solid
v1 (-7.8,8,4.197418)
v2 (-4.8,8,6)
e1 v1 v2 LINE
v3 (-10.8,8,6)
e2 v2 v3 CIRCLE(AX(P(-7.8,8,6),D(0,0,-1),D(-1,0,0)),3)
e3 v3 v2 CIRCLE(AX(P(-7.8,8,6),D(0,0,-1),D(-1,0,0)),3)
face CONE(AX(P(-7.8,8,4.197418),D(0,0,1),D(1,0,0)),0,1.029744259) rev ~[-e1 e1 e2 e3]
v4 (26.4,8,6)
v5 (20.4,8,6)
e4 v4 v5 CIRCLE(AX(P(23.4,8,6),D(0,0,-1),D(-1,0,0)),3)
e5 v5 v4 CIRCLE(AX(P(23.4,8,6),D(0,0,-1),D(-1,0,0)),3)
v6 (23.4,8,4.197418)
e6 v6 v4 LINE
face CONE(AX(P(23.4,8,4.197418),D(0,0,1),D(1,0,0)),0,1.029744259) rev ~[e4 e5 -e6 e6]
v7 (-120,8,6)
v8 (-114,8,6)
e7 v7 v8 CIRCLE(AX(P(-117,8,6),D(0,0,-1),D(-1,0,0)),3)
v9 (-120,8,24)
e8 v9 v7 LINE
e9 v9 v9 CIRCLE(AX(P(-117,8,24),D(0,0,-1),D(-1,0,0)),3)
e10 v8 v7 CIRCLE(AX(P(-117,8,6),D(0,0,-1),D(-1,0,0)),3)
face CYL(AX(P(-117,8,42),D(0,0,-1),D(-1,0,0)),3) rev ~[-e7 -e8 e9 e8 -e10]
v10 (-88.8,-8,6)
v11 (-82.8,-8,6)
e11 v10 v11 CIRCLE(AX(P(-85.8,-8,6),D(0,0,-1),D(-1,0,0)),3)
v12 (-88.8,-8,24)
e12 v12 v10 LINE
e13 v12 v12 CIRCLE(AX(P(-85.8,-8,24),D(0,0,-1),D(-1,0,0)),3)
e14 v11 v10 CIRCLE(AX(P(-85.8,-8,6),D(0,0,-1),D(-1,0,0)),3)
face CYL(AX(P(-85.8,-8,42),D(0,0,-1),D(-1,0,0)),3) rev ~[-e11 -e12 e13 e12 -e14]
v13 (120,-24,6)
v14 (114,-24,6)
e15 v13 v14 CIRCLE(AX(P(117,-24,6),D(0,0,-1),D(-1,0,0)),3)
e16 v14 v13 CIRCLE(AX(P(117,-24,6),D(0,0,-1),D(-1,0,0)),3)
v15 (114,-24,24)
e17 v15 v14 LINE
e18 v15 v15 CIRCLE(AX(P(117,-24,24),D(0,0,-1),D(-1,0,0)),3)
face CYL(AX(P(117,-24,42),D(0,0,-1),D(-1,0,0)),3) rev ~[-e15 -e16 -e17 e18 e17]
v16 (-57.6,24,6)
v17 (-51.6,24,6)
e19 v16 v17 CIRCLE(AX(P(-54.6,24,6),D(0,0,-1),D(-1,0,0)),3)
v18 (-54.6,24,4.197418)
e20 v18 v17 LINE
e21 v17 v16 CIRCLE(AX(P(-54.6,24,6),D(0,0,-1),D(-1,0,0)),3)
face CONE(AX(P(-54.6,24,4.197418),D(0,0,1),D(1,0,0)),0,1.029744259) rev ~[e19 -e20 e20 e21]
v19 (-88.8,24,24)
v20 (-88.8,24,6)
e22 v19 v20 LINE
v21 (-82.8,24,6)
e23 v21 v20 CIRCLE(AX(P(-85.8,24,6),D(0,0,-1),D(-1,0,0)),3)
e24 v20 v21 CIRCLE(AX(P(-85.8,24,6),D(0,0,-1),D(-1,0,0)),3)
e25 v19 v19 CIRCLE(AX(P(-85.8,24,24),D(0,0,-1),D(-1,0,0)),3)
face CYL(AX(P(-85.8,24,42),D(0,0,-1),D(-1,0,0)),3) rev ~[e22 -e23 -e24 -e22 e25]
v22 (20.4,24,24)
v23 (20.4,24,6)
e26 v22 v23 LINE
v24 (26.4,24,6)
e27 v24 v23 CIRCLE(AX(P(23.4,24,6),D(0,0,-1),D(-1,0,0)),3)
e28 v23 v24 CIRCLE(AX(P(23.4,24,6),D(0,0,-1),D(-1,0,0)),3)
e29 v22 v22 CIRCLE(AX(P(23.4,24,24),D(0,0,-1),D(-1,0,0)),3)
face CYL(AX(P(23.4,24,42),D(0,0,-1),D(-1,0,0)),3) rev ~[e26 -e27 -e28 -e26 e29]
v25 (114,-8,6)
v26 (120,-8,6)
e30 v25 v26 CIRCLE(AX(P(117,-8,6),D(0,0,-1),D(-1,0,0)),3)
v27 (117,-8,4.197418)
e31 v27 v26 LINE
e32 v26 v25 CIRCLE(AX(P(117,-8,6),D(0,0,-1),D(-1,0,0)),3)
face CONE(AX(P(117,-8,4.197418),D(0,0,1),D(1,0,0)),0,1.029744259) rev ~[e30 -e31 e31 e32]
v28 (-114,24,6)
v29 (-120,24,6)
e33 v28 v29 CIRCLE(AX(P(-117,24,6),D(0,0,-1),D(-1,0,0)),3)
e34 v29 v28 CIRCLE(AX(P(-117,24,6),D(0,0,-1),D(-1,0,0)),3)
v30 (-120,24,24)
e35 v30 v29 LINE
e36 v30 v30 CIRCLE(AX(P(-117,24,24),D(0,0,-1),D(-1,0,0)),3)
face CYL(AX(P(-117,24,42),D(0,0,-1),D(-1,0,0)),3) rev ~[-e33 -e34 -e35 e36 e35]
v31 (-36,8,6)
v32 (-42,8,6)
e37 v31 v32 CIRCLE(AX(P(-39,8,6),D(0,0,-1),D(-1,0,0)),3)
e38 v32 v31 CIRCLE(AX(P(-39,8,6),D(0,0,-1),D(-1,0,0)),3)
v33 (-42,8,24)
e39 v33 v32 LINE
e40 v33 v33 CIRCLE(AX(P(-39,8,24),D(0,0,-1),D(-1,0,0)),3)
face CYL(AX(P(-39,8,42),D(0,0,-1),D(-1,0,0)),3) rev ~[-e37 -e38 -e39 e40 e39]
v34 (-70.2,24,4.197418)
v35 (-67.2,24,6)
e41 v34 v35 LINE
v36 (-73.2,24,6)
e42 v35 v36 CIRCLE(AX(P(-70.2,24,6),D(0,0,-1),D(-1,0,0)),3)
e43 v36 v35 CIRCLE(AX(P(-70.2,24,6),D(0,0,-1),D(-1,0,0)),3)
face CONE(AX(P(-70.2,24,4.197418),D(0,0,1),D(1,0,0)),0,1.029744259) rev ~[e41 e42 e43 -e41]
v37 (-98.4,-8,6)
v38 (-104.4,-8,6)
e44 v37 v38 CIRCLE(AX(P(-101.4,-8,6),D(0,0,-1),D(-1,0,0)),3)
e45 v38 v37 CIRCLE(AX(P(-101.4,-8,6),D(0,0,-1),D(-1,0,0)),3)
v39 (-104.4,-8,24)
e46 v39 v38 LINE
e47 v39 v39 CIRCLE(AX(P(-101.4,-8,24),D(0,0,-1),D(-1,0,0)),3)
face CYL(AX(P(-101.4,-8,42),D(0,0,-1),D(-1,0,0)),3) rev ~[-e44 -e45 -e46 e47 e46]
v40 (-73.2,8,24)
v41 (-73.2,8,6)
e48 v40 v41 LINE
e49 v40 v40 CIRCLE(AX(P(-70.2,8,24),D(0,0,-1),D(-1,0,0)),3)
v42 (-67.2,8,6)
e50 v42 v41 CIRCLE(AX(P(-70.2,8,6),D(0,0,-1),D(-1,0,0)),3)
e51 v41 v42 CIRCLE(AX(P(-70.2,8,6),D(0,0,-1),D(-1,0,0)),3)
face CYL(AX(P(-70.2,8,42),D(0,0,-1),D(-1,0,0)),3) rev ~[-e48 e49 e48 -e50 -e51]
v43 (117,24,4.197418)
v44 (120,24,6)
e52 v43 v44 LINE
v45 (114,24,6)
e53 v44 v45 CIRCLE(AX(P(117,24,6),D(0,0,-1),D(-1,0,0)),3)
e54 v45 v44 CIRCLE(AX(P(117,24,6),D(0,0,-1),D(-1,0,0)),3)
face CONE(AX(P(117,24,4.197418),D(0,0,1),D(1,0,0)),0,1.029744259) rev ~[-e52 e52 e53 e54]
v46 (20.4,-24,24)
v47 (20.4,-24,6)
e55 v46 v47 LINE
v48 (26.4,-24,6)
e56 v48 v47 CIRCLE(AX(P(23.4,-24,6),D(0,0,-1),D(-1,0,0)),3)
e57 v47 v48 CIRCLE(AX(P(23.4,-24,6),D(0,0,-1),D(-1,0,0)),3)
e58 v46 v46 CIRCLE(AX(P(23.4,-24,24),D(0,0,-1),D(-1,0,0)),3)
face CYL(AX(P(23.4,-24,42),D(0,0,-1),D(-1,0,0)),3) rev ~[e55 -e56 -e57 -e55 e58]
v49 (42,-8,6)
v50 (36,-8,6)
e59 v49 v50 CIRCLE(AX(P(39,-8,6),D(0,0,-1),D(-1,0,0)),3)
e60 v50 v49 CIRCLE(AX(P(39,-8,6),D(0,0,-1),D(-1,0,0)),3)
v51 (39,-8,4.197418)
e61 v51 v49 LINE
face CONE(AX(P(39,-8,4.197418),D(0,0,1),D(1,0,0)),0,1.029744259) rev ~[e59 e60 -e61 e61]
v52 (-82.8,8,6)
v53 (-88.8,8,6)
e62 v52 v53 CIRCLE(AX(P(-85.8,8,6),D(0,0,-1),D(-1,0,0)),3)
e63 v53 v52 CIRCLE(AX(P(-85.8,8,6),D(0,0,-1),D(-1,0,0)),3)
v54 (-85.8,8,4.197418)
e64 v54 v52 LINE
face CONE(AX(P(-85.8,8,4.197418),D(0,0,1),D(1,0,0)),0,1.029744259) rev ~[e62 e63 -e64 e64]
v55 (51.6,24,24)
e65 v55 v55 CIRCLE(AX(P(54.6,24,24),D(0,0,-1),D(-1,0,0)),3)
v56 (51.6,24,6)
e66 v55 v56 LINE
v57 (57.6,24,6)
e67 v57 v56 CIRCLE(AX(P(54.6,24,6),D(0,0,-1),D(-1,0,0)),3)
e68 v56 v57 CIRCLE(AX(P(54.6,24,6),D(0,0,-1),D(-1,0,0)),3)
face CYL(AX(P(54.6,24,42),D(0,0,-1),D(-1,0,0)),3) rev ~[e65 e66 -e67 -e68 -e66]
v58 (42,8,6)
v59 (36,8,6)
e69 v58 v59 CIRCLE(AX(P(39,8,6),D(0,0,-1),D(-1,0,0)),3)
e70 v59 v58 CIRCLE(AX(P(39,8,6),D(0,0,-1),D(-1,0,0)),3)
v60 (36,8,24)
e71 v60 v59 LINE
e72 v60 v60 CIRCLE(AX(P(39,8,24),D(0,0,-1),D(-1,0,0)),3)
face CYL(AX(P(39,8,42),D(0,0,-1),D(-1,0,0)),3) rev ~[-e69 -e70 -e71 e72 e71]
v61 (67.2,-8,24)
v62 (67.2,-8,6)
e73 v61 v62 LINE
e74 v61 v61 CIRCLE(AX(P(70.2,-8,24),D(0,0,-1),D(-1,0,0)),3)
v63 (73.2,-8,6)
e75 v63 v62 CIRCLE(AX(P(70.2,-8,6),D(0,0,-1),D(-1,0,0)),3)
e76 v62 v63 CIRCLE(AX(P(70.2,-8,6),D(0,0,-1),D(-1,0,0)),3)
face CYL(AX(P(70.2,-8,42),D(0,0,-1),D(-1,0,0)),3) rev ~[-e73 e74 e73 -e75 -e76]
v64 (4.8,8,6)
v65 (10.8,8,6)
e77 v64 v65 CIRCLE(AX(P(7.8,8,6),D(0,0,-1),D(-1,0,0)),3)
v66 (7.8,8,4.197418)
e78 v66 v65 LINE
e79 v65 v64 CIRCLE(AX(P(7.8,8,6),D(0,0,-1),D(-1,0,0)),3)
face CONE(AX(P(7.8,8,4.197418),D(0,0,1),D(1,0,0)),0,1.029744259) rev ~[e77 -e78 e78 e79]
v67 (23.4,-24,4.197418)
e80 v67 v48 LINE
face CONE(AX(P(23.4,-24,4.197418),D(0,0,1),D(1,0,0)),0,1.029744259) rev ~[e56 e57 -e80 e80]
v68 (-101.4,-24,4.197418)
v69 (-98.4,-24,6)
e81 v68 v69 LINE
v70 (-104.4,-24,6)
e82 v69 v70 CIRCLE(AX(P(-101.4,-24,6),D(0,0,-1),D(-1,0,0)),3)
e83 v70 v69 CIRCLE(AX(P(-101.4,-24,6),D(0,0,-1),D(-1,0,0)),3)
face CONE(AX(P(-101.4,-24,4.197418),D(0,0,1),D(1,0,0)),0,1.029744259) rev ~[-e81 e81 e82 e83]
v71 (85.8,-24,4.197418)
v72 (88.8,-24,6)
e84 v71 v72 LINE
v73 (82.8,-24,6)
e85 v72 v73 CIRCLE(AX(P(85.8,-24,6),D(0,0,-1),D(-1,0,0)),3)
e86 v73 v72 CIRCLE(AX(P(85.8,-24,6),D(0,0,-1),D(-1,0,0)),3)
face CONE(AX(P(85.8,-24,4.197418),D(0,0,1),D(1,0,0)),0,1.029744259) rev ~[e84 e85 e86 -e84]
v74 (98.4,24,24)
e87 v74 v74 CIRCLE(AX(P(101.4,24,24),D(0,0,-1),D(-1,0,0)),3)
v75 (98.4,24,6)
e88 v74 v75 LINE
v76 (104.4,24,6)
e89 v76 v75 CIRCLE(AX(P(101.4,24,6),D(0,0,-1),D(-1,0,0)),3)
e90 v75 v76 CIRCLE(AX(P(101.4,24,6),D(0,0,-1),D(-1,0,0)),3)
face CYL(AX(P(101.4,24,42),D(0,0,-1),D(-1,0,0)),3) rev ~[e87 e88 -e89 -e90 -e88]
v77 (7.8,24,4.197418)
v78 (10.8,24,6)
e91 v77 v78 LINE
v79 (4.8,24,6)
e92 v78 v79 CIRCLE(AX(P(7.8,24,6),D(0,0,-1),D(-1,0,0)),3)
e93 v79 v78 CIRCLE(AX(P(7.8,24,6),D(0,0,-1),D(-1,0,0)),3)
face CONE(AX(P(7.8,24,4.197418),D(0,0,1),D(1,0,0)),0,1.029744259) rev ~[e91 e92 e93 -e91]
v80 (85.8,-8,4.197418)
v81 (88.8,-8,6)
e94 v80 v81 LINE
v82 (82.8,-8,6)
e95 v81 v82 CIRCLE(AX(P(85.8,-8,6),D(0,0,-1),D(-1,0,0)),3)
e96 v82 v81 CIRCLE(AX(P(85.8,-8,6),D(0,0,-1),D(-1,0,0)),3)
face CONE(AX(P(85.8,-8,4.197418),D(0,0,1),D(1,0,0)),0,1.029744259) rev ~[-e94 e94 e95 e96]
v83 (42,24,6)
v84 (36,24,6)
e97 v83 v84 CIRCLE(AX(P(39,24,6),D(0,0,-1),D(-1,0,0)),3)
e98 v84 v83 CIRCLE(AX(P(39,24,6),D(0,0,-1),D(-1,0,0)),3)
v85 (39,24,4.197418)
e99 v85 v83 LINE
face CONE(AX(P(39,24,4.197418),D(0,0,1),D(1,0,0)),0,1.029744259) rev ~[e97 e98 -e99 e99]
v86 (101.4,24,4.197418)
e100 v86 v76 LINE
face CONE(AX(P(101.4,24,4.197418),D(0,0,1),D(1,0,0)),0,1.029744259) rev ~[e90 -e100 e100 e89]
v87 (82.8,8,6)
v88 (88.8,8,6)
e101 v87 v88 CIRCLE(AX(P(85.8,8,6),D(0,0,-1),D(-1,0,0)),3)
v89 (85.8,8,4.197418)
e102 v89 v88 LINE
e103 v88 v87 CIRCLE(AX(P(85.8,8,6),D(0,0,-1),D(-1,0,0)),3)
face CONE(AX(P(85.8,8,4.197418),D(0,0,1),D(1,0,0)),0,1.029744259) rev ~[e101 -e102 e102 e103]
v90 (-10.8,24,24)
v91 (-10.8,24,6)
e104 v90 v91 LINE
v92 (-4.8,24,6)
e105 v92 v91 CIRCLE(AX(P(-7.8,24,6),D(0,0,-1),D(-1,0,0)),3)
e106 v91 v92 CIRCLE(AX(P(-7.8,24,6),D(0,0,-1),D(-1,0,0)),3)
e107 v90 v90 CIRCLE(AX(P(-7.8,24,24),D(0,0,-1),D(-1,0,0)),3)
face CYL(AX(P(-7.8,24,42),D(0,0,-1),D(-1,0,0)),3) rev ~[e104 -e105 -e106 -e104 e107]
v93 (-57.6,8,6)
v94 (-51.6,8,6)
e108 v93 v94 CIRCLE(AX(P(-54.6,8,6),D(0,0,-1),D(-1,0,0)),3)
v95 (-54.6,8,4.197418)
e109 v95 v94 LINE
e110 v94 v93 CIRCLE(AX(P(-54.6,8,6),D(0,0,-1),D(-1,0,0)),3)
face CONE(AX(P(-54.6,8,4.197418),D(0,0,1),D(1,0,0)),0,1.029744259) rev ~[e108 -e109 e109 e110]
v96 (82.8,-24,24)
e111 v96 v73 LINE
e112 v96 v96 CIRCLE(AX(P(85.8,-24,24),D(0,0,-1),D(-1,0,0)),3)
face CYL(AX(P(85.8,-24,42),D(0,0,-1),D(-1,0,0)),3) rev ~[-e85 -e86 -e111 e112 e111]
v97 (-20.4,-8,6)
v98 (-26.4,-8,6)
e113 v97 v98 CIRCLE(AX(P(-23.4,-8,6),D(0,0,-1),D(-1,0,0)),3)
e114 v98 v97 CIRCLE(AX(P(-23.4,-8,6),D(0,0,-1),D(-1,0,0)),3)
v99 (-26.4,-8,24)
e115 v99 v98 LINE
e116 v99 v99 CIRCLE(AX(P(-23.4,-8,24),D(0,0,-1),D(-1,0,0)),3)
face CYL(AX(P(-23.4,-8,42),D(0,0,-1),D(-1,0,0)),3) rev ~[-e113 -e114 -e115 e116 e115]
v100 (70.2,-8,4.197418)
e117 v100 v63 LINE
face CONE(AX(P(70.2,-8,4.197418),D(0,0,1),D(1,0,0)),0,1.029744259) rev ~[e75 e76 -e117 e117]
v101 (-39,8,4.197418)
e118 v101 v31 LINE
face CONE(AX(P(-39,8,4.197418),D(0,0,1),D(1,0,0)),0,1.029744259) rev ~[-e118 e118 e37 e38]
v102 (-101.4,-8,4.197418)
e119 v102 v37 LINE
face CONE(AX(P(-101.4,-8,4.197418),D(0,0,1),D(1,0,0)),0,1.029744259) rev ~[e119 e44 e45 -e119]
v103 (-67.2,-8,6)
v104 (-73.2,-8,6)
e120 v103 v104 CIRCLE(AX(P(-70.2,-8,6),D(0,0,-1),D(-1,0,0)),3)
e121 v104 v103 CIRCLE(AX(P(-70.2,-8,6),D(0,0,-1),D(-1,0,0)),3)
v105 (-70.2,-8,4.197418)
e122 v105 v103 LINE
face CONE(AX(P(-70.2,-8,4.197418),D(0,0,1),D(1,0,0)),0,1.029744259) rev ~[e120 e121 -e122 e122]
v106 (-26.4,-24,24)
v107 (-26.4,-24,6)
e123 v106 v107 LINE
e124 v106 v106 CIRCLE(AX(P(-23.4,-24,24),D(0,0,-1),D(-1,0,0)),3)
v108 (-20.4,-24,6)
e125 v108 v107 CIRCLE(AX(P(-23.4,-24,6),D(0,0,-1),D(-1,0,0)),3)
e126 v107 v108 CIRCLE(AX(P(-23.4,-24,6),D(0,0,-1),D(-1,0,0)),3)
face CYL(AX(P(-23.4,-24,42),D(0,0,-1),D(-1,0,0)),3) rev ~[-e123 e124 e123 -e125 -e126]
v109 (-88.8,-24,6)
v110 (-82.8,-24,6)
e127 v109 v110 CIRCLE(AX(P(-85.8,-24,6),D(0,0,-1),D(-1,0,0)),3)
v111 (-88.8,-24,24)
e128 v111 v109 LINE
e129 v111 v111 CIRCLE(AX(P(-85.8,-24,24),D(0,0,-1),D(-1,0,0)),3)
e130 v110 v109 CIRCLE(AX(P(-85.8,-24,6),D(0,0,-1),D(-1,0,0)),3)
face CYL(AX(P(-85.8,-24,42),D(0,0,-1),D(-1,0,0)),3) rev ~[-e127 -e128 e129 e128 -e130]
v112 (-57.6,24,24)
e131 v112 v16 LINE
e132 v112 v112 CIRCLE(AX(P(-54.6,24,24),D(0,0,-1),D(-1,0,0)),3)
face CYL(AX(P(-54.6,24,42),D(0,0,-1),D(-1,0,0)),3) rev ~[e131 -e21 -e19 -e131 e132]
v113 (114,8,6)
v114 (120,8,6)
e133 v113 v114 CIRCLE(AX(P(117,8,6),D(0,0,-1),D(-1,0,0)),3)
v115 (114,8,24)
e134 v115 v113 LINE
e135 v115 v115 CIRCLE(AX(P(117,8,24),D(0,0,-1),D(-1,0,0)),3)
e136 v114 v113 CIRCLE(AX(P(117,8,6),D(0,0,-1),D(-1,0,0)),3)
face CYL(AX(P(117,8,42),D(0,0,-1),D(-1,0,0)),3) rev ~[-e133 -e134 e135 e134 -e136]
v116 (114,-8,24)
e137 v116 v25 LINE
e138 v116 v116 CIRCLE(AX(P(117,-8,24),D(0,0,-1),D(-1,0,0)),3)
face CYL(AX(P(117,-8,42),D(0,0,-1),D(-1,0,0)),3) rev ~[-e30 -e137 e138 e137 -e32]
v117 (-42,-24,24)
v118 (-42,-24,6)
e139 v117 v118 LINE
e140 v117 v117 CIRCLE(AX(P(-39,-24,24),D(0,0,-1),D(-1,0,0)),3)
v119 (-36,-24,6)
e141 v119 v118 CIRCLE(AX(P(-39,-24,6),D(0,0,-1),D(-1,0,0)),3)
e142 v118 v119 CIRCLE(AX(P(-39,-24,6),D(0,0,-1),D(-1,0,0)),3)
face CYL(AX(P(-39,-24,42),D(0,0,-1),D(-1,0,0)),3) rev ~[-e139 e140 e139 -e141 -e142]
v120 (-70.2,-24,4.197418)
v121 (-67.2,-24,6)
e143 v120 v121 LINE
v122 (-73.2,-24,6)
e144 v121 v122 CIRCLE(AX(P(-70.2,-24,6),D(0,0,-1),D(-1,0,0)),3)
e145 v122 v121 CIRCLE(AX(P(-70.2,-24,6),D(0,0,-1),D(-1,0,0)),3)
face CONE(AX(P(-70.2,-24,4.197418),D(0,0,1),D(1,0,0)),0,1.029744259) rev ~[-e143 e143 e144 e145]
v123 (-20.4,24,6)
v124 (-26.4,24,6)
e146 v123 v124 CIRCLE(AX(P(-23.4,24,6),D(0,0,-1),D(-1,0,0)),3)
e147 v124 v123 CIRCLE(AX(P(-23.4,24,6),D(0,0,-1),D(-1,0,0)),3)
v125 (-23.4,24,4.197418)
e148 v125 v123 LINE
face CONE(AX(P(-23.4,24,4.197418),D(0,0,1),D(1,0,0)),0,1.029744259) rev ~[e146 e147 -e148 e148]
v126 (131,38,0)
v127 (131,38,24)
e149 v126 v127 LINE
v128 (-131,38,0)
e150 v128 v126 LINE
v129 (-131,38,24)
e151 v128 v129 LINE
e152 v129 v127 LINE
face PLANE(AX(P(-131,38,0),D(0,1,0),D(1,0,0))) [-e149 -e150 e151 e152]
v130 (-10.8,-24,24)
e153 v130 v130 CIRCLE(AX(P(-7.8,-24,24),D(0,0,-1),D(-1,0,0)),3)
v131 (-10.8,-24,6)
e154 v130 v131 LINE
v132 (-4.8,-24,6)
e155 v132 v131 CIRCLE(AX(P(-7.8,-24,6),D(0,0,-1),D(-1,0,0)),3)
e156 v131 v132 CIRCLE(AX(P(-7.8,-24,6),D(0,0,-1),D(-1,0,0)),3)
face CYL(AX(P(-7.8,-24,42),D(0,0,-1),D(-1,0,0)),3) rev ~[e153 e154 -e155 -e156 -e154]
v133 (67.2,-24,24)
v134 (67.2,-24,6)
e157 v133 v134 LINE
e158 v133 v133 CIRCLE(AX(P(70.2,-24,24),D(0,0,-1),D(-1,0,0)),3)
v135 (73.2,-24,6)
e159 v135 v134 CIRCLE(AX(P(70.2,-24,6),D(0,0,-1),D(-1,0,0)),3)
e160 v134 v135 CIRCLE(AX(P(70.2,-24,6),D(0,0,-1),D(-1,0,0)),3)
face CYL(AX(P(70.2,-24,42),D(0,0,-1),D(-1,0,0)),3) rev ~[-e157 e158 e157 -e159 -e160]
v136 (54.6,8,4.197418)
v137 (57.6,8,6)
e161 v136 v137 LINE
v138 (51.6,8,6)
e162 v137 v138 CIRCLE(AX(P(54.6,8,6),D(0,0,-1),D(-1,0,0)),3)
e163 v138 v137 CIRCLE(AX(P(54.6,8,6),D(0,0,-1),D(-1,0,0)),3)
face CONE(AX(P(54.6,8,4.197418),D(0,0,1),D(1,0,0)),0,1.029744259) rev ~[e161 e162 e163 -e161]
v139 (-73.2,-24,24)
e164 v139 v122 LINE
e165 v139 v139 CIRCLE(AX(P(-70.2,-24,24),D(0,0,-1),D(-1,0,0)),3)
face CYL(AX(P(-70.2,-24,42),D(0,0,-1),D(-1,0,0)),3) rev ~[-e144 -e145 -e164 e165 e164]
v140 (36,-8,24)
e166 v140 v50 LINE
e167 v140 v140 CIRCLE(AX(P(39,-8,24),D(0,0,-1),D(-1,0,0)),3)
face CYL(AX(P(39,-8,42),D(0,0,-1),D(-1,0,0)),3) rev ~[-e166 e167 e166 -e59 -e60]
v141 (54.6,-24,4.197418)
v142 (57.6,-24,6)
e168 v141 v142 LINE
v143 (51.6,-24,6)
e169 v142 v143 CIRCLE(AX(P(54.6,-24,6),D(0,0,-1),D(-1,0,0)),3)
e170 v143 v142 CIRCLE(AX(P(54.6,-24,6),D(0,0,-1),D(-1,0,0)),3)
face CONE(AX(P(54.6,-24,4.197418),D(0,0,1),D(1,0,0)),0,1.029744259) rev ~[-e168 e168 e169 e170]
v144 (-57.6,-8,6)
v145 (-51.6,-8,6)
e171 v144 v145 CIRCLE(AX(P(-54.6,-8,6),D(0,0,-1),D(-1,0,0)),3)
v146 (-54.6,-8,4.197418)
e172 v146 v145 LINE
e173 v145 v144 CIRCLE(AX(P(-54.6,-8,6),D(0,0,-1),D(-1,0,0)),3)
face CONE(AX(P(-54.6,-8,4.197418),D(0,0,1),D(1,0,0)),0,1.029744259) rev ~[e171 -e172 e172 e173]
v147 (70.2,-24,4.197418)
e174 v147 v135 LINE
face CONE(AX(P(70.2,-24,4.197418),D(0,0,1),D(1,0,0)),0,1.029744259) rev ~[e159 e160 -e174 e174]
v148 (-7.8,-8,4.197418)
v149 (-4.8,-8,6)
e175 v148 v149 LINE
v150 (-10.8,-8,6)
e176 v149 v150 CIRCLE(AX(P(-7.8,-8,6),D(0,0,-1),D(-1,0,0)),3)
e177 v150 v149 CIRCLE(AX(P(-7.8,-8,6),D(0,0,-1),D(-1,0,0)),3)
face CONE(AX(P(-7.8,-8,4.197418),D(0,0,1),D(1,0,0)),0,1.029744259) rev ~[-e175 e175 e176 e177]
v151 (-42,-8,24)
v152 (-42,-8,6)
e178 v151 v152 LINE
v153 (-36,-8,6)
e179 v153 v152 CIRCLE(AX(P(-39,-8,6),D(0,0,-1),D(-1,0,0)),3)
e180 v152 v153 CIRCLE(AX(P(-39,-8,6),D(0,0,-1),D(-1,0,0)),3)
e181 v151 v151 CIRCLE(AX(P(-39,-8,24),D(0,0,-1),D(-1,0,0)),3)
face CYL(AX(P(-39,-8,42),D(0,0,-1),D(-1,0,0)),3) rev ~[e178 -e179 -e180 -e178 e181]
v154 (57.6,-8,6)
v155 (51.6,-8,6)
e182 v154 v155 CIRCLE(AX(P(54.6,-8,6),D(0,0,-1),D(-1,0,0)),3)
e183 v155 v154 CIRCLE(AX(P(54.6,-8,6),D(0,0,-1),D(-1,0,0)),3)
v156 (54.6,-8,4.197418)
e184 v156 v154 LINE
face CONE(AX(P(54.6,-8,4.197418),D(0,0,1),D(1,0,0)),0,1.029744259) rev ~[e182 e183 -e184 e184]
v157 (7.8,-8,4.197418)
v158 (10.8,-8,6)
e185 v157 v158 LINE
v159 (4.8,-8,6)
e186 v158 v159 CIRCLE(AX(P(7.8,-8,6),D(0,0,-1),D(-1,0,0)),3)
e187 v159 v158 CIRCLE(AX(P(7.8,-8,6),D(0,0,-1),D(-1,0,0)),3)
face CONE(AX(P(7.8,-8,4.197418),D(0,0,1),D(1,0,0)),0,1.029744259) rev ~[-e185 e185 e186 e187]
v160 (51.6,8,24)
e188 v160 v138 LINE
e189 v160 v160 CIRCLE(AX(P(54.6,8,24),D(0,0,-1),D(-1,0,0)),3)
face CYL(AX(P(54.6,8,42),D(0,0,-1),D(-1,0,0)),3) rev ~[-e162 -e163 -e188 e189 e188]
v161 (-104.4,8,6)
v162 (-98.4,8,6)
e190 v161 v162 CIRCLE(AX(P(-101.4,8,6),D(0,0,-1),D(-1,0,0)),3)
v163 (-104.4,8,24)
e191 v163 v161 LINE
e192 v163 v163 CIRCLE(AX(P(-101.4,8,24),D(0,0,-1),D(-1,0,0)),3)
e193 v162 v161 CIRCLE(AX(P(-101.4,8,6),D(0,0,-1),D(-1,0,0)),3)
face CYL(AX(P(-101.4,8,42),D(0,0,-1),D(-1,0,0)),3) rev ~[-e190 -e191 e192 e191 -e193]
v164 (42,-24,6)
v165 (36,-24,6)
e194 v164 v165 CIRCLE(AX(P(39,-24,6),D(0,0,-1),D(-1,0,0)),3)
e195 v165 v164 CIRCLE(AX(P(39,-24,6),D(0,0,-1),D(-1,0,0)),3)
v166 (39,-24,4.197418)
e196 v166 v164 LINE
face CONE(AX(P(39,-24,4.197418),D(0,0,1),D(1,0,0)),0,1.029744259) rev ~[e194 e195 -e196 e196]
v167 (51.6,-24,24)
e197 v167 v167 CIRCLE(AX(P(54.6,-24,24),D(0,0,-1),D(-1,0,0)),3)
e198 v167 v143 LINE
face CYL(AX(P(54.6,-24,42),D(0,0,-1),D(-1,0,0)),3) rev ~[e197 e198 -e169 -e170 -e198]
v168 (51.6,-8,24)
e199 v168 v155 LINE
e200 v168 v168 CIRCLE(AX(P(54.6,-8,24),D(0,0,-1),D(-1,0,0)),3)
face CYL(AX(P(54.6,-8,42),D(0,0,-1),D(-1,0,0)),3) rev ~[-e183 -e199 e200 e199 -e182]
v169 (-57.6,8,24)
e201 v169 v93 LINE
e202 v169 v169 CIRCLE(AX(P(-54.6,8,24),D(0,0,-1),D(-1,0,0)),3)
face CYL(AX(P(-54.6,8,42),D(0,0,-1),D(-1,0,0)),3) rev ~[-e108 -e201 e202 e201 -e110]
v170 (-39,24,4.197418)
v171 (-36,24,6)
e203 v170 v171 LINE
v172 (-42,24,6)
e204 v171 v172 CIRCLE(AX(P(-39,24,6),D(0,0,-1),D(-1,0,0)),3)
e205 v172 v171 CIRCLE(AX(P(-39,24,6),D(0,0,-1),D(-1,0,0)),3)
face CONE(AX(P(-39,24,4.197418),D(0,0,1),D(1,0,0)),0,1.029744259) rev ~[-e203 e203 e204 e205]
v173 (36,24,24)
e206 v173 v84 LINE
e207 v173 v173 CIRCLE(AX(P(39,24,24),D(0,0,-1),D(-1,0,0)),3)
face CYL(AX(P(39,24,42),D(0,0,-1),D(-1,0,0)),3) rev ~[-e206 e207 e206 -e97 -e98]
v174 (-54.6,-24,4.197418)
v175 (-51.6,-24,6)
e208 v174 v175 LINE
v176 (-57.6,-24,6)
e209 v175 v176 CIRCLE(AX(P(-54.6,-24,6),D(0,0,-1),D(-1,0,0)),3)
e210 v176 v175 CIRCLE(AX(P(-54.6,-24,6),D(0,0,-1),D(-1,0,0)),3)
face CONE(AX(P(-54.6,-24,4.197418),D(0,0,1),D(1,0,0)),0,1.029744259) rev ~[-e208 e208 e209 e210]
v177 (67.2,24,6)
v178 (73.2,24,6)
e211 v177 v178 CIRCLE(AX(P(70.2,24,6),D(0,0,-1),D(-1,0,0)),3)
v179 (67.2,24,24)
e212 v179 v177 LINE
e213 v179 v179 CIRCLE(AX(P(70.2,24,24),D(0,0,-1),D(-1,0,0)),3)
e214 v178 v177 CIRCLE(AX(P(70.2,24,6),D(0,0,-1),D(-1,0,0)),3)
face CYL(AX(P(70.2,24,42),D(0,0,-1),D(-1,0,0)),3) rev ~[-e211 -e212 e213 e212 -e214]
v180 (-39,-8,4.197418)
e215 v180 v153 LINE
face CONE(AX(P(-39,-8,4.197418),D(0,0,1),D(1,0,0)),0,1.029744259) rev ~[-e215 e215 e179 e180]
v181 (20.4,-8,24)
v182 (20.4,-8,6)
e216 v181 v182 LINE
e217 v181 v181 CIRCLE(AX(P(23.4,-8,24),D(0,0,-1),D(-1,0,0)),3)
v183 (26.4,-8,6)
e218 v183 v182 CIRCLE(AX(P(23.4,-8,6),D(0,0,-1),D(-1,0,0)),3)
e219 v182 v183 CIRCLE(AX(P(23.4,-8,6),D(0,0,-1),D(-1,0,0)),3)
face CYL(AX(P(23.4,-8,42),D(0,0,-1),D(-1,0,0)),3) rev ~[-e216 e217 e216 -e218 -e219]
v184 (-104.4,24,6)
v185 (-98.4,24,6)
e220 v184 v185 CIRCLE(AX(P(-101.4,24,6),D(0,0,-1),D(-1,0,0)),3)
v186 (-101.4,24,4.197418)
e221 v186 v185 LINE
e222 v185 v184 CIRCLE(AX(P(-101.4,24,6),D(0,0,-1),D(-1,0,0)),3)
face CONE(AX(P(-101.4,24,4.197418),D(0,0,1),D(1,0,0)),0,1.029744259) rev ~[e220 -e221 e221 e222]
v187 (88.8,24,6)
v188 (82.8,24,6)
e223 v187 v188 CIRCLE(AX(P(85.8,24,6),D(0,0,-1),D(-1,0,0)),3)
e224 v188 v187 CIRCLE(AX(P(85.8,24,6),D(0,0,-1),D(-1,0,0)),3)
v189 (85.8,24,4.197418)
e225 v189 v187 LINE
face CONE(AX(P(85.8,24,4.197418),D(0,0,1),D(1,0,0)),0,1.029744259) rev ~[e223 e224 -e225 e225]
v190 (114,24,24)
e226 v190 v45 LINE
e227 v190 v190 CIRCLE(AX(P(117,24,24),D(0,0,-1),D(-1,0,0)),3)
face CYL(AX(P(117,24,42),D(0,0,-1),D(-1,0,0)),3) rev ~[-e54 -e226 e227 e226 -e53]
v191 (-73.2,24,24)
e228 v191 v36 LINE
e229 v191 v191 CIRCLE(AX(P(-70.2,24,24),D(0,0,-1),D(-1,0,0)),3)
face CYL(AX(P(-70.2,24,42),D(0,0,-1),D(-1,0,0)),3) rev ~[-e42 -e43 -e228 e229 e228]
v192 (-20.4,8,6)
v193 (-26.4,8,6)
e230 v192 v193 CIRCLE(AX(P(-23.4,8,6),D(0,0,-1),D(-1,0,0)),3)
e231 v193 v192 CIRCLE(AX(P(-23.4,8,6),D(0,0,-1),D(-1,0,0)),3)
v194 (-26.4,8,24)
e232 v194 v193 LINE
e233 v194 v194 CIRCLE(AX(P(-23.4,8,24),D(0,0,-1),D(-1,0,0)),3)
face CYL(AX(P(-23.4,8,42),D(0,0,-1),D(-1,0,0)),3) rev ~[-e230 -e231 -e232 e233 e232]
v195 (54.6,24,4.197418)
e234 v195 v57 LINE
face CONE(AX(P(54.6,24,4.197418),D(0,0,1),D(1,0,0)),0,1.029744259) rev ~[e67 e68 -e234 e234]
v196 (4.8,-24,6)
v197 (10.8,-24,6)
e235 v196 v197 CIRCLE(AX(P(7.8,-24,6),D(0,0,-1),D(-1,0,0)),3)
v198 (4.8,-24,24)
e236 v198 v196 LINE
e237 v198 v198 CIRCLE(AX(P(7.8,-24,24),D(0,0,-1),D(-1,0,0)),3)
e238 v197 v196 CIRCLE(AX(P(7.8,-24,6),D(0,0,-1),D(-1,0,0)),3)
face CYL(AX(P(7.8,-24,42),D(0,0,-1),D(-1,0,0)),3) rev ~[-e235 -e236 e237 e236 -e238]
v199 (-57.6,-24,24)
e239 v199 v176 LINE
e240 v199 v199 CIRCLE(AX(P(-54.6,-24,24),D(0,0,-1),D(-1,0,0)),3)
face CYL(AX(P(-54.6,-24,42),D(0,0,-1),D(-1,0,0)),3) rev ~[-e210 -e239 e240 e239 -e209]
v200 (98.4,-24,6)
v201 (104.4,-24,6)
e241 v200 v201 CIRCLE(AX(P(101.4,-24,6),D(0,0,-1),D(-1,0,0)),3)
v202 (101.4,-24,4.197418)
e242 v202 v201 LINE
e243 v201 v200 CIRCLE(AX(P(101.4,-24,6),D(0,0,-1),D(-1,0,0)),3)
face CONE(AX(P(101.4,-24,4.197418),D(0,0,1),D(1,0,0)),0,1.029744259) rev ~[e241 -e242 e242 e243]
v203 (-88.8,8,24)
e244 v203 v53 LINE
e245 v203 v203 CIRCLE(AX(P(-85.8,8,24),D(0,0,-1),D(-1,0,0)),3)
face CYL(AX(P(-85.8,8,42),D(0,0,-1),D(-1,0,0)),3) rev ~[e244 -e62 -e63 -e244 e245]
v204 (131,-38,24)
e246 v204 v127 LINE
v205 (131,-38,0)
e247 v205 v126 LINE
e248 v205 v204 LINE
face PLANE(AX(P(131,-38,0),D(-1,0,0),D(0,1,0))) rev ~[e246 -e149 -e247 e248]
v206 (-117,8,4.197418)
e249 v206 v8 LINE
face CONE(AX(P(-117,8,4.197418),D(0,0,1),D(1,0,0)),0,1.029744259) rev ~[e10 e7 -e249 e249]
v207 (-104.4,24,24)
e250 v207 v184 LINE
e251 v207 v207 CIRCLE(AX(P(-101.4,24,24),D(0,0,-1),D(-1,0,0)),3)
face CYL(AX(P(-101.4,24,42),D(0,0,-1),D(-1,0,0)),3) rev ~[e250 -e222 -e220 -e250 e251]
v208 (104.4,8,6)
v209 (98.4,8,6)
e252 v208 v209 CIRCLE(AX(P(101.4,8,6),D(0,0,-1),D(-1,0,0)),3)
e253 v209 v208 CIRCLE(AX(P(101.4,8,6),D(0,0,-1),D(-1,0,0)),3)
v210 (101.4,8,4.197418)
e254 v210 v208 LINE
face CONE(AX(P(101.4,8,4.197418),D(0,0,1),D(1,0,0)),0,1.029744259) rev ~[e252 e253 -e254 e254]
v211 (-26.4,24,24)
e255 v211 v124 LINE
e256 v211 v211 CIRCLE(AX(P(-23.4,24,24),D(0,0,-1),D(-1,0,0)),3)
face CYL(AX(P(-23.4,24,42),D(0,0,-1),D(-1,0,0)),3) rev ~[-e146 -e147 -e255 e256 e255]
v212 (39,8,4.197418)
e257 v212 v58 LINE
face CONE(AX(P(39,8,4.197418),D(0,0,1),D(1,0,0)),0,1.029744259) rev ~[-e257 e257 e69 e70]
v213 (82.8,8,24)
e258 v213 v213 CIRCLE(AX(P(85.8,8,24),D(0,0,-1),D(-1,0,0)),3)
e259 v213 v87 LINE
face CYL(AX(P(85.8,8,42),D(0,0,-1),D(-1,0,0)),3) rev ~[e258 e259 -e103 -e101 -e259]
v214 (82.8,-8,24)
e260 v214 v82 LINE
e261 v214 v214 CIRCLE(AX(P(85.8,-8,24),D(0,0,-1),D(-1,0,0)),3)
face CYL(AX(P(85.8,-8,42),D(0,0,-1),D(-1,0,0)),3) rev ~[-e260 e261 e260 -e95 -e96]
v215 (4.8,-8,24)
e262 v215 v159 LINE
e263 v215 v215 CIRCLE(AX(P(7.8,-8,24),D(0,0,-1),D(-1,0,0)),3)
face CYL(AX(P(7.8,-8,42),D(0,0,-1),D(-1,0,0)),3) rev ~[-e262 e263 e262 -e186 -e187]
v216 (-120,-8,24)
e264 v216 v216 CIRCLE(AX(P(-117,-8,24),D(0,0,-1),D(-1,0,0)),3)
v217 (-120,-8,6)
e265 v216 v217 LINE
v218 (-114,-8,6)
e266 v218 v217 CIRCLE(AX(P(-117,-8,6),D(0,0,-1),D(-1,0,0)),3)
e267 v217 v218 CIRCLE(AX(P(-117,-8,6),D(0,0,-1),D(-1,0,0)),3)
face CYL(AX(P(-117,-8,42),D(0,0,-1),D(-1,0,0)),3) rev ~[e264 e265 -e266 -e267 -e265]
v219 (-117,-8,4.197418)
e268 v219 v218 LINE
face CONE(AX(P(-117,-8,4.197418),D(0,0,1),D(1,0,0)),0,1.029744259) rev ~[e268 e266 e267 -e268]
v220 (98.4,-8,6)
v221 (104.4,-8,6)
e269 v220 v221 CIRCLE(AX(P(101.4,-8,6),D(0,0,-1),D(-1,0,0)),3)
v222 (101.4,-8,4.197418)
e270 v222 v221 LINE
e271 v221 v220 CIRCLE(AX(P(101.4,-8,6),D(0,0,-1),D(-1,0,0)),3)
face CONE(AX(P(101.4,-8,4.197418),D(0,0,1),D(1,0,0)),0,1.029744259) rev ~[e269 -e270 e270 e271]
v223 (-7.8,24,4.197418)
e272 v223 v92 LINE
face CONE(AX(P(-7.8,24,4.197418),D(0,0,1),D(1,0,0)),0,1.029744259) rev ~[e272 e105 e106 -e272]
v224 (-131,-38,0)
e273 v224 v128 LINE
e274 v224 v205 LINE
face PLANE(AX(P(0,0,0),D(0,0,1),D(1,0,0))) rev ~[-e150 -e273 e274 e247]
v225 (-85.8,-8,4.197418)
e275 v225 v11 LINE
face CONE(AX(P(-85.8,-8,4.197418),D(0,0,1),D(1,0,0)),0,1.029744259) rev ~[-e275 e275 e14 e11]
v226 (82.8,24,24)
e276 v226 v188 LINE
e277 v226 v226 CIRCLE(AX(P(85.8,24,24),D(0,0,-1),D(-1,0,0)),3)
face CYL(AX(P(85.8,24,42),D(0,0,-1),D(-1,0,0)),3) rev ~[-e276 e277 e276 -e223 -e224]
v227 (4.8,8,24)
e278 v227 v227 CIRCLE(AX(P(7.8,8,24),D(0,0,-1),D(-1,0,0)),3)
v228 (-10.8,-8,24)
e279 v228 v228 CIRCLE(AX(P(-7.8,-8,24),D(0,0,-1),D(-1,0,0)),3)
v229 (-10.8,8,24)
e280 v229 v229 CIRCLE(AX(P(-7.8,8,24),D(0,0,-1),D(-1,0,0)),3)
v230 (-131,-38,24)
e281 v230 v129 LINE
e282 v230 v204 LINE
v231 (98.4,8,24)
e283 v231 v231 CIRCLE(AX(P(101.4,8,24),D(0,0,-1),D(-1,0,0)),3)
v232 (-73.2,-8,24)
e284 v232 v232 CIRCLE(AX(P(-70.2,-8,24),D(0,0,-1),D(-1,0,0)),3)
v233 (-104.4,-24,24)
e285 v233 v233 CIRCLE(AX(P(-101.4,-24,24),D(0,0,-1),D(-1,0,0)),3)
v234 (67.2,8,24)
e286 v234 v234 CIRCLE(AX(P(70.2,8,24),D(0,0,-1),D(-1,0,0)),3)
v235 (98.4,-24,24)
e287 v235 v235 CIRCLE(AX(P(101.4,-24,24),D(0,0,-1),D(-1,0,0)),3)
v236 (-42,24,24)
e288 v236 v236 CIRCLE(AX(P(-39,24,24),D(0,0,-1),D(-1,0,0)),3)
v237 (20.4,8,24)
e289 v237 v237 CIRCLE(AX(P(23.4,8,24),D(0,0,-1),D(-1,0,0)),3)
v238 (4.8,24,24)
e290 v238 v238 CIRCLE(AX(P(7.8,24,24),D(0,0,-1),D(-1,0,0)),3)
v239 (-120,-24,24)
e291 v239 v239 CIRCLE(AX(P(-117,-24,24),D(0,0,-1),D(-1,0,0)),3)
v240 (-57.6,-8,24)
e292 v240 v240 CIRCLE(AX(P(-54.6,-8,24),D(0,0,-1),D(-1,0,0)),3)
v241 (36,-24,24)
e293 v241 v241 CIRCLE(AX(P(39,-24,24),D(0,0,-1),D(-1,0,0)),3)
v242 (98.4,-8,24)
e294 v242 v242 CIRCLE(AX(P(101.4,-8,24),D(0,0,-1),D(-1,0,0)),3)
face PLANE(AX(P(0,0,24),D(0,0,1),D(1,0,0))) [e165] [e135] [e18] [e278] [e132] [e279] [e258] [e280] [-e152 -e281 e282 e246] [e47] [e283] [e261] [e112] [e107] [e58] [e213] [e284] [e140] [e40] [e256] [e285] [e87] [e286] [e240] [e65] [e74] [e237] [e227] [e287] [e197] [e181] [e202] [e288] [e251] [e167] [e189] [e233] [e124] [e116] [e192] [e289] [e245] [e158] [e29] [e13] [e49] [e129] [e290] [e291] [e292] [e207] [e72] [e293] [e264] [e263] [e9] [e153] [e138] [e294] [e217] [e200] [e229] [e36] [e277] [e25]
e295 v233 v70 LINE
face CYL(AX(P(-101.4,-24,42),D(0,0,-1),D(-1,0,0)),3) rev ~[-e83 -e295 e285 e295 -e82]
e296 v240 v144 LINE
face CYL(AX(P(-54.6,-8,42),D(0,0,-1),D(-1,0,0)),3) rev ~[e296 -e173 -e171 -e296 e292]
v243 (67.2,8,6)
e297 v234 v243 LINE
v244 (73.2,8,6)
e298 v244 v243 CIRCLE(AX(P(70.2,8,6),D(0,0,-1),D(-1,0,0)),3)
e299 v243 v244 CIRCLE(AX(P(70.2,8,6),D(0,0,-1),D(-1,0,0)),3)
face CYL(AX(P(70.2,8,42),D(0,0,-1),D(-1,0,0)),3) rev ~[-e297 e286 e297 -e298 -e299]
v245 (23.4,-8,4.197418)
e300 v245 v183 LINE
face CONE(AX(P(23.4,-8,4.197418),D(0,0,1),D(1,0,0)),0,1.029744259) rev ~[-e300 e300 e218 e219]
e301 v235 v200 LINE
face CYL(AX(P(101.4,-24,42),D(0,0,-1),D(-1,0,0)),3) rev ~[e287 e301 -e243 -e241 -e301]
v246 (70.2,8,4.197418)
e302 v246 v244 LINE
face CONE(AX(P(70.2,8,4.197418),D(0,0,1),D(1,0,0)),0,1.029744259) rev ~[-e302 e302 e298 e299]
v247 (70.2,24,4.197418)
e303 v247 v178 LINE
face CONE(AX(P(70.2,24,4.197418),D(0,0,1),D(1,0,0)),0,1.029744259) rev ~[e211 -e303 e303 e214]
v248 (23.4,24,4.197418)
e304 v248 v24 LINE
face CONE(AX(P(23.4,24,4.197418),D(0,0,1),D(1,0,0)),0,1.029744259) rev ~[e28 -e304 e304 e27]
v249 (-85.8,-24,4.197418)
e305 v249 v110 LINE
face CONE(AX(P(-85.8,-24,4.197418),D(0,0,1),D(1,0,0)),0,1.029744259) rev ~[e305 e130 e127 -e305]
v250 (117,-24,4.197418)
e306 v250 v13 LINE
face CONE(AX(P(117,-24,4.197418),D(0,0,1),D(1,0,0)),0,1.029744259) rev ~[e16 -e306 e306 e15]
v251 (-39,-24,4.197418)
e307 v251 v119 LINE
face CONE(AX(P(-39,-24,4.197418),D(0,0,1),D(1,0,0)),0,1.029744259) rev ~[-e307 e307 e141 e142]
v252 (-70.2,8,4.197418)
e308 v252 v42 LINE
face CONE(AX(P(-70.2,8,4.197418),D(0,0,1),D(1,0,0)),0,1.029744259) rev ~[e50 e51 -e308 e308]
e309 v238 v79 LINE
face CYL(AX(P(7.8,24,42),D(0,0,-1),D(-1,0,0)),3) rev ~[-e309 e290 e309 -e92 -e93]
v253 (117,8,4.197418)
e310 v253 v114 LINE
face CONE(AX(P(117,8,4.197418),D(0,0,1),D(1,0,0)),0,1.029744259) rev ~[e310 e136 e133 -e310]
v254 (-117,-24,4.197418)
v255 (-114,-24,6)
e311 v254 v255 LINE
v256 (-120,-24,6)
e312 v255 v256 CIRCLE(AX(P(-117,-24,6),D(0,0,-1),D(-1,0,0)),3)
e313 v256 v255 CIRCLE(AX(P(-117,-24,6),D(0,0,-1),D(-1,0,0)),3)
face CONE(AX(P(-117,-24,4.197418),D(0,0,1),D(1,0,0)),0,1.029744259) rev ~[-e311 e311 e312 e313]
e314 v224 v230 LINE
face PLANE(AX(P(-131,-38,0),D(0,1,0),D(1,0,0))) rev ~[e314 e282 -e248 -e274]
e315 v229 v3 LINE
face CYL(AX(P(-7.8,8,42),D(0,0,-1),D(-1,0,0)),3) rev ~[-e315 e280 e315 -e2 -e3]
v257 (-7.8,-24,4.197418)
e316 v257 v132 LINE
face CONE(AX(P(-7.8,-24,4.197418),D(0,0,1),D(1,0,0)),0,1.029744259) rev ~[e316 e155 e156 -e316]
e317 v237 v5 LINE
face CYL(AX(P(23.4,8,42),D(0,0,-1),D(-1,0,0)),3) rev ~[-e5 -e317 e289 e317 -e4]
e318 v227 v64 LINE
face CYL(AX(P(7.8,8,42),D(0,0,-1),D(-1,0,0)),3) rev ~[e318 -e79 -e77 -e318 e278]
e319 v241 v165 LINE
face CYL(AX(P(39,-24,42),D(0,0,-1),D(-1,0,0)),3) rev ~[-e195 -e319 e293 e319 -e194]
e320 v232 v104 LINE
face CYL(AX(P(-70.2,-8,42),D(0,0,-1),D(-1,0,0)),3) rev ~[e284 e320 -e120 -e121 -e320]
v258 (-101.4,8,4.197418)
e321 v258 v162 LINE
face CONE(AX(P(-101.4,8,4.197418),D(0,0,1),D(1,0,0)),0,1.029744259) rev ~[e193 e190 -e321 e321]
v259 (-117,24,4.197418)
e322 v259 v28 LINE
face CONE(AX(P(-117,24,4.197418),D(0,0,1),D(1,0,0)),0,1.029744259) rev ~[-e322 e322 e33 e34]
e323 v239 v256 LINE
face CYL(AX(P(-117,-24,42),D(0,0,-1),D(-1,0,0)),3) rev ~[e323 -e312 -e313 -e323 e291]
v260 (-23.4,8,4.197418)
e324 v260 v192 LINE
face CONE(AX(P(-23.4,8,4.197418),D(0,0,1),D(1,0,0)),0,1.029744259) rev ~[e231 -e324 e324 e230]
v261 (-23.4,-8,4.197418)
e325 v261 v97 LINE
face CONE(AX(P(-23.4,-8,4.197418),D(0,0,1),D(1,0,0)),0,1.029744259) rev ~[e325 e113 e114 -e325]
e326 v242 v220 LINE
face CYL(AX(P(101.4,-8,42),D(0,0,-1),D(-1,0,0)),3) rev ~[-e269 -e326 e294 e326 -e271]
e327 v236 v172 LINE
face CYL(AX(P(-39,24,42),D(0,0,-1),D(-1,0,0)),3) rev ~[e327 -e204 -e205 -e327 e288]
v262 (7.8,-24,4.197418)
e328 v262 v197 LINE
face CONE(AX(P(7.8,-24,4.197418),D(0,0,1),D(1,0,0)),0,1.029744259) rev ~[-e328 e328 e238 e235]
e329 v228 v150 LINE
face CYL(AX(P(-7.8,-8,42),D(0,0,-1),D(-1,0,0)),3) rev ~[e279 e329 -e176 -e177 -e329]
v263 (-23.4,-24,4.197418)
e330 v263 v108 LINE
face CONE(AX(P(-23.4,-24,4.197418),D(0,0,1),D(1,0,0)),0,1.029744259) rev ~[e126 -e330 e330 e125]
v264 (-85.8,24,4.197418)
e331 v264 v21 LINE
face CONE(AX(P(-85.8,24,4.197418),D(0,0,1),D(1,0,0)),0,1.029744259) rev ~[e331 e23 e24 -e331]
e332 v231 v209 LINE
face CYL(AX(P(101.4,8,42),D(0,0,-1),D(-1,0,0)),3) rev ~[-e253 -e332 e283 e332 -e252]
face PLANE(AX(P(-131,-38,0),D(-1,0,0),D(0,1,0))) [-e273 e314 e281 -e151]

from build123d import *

# Parameters (mm, degrees)
F0_W     = 262
F0_H     = 76
F1_DEPTH = 24
F3_D     = 6
F3_DEPTH = 18
F3_TIP   = 1.8025818571


with BuildPart() as f1:
    # F0 (on Top) → F1 (new body)
    with BuildSketch(Plane.XY):
        Rectangle(F0_W, F0_H)
    extrude(amount=F1_DEPTH)

    # F3
    with Locations(Plane.XY.offset(24)):
        with Locations((-117, 24), (-117, 8), (-117, -8), (-117, -24), (-101.4, 24), (-101.4, 8), (-101.4, -8), (-101.4, -24), (-54.6, 8), (23.4, 24), (-23.4, -8), (-85.8, -8), (-23.4, 8), (54.6, -24), (-70.2, -24), (-39, 24), (-70.2, 24), (7.8, -8), (-70.2, -8), (39, 8), (-39, -24), (-7.8, 24), (70.2, 8), (-7.8, 8), (54.6, 8), (70.2, -24), (-23.4, -24), (7.8, 24), (-54.6, 24), (-7.8, -24), (-7.8, -8), (-54.6, -24), (-39, 8), (39, 24), (23.4, -24), (-39, -8), (54.6, 24), (-54.6, -8), (39, -8), (-85.8, -24), (54.6, -8), (70.2, 24), (-70.2, 8), (23.4, 8), (70.2, -8), (-85.8, 24), (-23.4, 24), (-85.8, 8), (7.8, -24), (23.4, -8), (7.8, 8), (39, -24), (101.4, 8), (117, 8), (85.8, 24), (85.8, -8), (101.4, -8), (101.4, -24), (117, -8), (117, 24), (85.8, -24), (117, -24), (85.8, 8), (101.4, 24)):
            Hole(F3_D / 2, depth=F3_DEPTH)
            with Locations((0, 0, -(F3_DEPTH + F3_TIP / 2))):  # 118° drill point
                Cone(0, F3_D / 2, F3_TIP, mode=Mode.SUBTRACT)


solid = f1.part
